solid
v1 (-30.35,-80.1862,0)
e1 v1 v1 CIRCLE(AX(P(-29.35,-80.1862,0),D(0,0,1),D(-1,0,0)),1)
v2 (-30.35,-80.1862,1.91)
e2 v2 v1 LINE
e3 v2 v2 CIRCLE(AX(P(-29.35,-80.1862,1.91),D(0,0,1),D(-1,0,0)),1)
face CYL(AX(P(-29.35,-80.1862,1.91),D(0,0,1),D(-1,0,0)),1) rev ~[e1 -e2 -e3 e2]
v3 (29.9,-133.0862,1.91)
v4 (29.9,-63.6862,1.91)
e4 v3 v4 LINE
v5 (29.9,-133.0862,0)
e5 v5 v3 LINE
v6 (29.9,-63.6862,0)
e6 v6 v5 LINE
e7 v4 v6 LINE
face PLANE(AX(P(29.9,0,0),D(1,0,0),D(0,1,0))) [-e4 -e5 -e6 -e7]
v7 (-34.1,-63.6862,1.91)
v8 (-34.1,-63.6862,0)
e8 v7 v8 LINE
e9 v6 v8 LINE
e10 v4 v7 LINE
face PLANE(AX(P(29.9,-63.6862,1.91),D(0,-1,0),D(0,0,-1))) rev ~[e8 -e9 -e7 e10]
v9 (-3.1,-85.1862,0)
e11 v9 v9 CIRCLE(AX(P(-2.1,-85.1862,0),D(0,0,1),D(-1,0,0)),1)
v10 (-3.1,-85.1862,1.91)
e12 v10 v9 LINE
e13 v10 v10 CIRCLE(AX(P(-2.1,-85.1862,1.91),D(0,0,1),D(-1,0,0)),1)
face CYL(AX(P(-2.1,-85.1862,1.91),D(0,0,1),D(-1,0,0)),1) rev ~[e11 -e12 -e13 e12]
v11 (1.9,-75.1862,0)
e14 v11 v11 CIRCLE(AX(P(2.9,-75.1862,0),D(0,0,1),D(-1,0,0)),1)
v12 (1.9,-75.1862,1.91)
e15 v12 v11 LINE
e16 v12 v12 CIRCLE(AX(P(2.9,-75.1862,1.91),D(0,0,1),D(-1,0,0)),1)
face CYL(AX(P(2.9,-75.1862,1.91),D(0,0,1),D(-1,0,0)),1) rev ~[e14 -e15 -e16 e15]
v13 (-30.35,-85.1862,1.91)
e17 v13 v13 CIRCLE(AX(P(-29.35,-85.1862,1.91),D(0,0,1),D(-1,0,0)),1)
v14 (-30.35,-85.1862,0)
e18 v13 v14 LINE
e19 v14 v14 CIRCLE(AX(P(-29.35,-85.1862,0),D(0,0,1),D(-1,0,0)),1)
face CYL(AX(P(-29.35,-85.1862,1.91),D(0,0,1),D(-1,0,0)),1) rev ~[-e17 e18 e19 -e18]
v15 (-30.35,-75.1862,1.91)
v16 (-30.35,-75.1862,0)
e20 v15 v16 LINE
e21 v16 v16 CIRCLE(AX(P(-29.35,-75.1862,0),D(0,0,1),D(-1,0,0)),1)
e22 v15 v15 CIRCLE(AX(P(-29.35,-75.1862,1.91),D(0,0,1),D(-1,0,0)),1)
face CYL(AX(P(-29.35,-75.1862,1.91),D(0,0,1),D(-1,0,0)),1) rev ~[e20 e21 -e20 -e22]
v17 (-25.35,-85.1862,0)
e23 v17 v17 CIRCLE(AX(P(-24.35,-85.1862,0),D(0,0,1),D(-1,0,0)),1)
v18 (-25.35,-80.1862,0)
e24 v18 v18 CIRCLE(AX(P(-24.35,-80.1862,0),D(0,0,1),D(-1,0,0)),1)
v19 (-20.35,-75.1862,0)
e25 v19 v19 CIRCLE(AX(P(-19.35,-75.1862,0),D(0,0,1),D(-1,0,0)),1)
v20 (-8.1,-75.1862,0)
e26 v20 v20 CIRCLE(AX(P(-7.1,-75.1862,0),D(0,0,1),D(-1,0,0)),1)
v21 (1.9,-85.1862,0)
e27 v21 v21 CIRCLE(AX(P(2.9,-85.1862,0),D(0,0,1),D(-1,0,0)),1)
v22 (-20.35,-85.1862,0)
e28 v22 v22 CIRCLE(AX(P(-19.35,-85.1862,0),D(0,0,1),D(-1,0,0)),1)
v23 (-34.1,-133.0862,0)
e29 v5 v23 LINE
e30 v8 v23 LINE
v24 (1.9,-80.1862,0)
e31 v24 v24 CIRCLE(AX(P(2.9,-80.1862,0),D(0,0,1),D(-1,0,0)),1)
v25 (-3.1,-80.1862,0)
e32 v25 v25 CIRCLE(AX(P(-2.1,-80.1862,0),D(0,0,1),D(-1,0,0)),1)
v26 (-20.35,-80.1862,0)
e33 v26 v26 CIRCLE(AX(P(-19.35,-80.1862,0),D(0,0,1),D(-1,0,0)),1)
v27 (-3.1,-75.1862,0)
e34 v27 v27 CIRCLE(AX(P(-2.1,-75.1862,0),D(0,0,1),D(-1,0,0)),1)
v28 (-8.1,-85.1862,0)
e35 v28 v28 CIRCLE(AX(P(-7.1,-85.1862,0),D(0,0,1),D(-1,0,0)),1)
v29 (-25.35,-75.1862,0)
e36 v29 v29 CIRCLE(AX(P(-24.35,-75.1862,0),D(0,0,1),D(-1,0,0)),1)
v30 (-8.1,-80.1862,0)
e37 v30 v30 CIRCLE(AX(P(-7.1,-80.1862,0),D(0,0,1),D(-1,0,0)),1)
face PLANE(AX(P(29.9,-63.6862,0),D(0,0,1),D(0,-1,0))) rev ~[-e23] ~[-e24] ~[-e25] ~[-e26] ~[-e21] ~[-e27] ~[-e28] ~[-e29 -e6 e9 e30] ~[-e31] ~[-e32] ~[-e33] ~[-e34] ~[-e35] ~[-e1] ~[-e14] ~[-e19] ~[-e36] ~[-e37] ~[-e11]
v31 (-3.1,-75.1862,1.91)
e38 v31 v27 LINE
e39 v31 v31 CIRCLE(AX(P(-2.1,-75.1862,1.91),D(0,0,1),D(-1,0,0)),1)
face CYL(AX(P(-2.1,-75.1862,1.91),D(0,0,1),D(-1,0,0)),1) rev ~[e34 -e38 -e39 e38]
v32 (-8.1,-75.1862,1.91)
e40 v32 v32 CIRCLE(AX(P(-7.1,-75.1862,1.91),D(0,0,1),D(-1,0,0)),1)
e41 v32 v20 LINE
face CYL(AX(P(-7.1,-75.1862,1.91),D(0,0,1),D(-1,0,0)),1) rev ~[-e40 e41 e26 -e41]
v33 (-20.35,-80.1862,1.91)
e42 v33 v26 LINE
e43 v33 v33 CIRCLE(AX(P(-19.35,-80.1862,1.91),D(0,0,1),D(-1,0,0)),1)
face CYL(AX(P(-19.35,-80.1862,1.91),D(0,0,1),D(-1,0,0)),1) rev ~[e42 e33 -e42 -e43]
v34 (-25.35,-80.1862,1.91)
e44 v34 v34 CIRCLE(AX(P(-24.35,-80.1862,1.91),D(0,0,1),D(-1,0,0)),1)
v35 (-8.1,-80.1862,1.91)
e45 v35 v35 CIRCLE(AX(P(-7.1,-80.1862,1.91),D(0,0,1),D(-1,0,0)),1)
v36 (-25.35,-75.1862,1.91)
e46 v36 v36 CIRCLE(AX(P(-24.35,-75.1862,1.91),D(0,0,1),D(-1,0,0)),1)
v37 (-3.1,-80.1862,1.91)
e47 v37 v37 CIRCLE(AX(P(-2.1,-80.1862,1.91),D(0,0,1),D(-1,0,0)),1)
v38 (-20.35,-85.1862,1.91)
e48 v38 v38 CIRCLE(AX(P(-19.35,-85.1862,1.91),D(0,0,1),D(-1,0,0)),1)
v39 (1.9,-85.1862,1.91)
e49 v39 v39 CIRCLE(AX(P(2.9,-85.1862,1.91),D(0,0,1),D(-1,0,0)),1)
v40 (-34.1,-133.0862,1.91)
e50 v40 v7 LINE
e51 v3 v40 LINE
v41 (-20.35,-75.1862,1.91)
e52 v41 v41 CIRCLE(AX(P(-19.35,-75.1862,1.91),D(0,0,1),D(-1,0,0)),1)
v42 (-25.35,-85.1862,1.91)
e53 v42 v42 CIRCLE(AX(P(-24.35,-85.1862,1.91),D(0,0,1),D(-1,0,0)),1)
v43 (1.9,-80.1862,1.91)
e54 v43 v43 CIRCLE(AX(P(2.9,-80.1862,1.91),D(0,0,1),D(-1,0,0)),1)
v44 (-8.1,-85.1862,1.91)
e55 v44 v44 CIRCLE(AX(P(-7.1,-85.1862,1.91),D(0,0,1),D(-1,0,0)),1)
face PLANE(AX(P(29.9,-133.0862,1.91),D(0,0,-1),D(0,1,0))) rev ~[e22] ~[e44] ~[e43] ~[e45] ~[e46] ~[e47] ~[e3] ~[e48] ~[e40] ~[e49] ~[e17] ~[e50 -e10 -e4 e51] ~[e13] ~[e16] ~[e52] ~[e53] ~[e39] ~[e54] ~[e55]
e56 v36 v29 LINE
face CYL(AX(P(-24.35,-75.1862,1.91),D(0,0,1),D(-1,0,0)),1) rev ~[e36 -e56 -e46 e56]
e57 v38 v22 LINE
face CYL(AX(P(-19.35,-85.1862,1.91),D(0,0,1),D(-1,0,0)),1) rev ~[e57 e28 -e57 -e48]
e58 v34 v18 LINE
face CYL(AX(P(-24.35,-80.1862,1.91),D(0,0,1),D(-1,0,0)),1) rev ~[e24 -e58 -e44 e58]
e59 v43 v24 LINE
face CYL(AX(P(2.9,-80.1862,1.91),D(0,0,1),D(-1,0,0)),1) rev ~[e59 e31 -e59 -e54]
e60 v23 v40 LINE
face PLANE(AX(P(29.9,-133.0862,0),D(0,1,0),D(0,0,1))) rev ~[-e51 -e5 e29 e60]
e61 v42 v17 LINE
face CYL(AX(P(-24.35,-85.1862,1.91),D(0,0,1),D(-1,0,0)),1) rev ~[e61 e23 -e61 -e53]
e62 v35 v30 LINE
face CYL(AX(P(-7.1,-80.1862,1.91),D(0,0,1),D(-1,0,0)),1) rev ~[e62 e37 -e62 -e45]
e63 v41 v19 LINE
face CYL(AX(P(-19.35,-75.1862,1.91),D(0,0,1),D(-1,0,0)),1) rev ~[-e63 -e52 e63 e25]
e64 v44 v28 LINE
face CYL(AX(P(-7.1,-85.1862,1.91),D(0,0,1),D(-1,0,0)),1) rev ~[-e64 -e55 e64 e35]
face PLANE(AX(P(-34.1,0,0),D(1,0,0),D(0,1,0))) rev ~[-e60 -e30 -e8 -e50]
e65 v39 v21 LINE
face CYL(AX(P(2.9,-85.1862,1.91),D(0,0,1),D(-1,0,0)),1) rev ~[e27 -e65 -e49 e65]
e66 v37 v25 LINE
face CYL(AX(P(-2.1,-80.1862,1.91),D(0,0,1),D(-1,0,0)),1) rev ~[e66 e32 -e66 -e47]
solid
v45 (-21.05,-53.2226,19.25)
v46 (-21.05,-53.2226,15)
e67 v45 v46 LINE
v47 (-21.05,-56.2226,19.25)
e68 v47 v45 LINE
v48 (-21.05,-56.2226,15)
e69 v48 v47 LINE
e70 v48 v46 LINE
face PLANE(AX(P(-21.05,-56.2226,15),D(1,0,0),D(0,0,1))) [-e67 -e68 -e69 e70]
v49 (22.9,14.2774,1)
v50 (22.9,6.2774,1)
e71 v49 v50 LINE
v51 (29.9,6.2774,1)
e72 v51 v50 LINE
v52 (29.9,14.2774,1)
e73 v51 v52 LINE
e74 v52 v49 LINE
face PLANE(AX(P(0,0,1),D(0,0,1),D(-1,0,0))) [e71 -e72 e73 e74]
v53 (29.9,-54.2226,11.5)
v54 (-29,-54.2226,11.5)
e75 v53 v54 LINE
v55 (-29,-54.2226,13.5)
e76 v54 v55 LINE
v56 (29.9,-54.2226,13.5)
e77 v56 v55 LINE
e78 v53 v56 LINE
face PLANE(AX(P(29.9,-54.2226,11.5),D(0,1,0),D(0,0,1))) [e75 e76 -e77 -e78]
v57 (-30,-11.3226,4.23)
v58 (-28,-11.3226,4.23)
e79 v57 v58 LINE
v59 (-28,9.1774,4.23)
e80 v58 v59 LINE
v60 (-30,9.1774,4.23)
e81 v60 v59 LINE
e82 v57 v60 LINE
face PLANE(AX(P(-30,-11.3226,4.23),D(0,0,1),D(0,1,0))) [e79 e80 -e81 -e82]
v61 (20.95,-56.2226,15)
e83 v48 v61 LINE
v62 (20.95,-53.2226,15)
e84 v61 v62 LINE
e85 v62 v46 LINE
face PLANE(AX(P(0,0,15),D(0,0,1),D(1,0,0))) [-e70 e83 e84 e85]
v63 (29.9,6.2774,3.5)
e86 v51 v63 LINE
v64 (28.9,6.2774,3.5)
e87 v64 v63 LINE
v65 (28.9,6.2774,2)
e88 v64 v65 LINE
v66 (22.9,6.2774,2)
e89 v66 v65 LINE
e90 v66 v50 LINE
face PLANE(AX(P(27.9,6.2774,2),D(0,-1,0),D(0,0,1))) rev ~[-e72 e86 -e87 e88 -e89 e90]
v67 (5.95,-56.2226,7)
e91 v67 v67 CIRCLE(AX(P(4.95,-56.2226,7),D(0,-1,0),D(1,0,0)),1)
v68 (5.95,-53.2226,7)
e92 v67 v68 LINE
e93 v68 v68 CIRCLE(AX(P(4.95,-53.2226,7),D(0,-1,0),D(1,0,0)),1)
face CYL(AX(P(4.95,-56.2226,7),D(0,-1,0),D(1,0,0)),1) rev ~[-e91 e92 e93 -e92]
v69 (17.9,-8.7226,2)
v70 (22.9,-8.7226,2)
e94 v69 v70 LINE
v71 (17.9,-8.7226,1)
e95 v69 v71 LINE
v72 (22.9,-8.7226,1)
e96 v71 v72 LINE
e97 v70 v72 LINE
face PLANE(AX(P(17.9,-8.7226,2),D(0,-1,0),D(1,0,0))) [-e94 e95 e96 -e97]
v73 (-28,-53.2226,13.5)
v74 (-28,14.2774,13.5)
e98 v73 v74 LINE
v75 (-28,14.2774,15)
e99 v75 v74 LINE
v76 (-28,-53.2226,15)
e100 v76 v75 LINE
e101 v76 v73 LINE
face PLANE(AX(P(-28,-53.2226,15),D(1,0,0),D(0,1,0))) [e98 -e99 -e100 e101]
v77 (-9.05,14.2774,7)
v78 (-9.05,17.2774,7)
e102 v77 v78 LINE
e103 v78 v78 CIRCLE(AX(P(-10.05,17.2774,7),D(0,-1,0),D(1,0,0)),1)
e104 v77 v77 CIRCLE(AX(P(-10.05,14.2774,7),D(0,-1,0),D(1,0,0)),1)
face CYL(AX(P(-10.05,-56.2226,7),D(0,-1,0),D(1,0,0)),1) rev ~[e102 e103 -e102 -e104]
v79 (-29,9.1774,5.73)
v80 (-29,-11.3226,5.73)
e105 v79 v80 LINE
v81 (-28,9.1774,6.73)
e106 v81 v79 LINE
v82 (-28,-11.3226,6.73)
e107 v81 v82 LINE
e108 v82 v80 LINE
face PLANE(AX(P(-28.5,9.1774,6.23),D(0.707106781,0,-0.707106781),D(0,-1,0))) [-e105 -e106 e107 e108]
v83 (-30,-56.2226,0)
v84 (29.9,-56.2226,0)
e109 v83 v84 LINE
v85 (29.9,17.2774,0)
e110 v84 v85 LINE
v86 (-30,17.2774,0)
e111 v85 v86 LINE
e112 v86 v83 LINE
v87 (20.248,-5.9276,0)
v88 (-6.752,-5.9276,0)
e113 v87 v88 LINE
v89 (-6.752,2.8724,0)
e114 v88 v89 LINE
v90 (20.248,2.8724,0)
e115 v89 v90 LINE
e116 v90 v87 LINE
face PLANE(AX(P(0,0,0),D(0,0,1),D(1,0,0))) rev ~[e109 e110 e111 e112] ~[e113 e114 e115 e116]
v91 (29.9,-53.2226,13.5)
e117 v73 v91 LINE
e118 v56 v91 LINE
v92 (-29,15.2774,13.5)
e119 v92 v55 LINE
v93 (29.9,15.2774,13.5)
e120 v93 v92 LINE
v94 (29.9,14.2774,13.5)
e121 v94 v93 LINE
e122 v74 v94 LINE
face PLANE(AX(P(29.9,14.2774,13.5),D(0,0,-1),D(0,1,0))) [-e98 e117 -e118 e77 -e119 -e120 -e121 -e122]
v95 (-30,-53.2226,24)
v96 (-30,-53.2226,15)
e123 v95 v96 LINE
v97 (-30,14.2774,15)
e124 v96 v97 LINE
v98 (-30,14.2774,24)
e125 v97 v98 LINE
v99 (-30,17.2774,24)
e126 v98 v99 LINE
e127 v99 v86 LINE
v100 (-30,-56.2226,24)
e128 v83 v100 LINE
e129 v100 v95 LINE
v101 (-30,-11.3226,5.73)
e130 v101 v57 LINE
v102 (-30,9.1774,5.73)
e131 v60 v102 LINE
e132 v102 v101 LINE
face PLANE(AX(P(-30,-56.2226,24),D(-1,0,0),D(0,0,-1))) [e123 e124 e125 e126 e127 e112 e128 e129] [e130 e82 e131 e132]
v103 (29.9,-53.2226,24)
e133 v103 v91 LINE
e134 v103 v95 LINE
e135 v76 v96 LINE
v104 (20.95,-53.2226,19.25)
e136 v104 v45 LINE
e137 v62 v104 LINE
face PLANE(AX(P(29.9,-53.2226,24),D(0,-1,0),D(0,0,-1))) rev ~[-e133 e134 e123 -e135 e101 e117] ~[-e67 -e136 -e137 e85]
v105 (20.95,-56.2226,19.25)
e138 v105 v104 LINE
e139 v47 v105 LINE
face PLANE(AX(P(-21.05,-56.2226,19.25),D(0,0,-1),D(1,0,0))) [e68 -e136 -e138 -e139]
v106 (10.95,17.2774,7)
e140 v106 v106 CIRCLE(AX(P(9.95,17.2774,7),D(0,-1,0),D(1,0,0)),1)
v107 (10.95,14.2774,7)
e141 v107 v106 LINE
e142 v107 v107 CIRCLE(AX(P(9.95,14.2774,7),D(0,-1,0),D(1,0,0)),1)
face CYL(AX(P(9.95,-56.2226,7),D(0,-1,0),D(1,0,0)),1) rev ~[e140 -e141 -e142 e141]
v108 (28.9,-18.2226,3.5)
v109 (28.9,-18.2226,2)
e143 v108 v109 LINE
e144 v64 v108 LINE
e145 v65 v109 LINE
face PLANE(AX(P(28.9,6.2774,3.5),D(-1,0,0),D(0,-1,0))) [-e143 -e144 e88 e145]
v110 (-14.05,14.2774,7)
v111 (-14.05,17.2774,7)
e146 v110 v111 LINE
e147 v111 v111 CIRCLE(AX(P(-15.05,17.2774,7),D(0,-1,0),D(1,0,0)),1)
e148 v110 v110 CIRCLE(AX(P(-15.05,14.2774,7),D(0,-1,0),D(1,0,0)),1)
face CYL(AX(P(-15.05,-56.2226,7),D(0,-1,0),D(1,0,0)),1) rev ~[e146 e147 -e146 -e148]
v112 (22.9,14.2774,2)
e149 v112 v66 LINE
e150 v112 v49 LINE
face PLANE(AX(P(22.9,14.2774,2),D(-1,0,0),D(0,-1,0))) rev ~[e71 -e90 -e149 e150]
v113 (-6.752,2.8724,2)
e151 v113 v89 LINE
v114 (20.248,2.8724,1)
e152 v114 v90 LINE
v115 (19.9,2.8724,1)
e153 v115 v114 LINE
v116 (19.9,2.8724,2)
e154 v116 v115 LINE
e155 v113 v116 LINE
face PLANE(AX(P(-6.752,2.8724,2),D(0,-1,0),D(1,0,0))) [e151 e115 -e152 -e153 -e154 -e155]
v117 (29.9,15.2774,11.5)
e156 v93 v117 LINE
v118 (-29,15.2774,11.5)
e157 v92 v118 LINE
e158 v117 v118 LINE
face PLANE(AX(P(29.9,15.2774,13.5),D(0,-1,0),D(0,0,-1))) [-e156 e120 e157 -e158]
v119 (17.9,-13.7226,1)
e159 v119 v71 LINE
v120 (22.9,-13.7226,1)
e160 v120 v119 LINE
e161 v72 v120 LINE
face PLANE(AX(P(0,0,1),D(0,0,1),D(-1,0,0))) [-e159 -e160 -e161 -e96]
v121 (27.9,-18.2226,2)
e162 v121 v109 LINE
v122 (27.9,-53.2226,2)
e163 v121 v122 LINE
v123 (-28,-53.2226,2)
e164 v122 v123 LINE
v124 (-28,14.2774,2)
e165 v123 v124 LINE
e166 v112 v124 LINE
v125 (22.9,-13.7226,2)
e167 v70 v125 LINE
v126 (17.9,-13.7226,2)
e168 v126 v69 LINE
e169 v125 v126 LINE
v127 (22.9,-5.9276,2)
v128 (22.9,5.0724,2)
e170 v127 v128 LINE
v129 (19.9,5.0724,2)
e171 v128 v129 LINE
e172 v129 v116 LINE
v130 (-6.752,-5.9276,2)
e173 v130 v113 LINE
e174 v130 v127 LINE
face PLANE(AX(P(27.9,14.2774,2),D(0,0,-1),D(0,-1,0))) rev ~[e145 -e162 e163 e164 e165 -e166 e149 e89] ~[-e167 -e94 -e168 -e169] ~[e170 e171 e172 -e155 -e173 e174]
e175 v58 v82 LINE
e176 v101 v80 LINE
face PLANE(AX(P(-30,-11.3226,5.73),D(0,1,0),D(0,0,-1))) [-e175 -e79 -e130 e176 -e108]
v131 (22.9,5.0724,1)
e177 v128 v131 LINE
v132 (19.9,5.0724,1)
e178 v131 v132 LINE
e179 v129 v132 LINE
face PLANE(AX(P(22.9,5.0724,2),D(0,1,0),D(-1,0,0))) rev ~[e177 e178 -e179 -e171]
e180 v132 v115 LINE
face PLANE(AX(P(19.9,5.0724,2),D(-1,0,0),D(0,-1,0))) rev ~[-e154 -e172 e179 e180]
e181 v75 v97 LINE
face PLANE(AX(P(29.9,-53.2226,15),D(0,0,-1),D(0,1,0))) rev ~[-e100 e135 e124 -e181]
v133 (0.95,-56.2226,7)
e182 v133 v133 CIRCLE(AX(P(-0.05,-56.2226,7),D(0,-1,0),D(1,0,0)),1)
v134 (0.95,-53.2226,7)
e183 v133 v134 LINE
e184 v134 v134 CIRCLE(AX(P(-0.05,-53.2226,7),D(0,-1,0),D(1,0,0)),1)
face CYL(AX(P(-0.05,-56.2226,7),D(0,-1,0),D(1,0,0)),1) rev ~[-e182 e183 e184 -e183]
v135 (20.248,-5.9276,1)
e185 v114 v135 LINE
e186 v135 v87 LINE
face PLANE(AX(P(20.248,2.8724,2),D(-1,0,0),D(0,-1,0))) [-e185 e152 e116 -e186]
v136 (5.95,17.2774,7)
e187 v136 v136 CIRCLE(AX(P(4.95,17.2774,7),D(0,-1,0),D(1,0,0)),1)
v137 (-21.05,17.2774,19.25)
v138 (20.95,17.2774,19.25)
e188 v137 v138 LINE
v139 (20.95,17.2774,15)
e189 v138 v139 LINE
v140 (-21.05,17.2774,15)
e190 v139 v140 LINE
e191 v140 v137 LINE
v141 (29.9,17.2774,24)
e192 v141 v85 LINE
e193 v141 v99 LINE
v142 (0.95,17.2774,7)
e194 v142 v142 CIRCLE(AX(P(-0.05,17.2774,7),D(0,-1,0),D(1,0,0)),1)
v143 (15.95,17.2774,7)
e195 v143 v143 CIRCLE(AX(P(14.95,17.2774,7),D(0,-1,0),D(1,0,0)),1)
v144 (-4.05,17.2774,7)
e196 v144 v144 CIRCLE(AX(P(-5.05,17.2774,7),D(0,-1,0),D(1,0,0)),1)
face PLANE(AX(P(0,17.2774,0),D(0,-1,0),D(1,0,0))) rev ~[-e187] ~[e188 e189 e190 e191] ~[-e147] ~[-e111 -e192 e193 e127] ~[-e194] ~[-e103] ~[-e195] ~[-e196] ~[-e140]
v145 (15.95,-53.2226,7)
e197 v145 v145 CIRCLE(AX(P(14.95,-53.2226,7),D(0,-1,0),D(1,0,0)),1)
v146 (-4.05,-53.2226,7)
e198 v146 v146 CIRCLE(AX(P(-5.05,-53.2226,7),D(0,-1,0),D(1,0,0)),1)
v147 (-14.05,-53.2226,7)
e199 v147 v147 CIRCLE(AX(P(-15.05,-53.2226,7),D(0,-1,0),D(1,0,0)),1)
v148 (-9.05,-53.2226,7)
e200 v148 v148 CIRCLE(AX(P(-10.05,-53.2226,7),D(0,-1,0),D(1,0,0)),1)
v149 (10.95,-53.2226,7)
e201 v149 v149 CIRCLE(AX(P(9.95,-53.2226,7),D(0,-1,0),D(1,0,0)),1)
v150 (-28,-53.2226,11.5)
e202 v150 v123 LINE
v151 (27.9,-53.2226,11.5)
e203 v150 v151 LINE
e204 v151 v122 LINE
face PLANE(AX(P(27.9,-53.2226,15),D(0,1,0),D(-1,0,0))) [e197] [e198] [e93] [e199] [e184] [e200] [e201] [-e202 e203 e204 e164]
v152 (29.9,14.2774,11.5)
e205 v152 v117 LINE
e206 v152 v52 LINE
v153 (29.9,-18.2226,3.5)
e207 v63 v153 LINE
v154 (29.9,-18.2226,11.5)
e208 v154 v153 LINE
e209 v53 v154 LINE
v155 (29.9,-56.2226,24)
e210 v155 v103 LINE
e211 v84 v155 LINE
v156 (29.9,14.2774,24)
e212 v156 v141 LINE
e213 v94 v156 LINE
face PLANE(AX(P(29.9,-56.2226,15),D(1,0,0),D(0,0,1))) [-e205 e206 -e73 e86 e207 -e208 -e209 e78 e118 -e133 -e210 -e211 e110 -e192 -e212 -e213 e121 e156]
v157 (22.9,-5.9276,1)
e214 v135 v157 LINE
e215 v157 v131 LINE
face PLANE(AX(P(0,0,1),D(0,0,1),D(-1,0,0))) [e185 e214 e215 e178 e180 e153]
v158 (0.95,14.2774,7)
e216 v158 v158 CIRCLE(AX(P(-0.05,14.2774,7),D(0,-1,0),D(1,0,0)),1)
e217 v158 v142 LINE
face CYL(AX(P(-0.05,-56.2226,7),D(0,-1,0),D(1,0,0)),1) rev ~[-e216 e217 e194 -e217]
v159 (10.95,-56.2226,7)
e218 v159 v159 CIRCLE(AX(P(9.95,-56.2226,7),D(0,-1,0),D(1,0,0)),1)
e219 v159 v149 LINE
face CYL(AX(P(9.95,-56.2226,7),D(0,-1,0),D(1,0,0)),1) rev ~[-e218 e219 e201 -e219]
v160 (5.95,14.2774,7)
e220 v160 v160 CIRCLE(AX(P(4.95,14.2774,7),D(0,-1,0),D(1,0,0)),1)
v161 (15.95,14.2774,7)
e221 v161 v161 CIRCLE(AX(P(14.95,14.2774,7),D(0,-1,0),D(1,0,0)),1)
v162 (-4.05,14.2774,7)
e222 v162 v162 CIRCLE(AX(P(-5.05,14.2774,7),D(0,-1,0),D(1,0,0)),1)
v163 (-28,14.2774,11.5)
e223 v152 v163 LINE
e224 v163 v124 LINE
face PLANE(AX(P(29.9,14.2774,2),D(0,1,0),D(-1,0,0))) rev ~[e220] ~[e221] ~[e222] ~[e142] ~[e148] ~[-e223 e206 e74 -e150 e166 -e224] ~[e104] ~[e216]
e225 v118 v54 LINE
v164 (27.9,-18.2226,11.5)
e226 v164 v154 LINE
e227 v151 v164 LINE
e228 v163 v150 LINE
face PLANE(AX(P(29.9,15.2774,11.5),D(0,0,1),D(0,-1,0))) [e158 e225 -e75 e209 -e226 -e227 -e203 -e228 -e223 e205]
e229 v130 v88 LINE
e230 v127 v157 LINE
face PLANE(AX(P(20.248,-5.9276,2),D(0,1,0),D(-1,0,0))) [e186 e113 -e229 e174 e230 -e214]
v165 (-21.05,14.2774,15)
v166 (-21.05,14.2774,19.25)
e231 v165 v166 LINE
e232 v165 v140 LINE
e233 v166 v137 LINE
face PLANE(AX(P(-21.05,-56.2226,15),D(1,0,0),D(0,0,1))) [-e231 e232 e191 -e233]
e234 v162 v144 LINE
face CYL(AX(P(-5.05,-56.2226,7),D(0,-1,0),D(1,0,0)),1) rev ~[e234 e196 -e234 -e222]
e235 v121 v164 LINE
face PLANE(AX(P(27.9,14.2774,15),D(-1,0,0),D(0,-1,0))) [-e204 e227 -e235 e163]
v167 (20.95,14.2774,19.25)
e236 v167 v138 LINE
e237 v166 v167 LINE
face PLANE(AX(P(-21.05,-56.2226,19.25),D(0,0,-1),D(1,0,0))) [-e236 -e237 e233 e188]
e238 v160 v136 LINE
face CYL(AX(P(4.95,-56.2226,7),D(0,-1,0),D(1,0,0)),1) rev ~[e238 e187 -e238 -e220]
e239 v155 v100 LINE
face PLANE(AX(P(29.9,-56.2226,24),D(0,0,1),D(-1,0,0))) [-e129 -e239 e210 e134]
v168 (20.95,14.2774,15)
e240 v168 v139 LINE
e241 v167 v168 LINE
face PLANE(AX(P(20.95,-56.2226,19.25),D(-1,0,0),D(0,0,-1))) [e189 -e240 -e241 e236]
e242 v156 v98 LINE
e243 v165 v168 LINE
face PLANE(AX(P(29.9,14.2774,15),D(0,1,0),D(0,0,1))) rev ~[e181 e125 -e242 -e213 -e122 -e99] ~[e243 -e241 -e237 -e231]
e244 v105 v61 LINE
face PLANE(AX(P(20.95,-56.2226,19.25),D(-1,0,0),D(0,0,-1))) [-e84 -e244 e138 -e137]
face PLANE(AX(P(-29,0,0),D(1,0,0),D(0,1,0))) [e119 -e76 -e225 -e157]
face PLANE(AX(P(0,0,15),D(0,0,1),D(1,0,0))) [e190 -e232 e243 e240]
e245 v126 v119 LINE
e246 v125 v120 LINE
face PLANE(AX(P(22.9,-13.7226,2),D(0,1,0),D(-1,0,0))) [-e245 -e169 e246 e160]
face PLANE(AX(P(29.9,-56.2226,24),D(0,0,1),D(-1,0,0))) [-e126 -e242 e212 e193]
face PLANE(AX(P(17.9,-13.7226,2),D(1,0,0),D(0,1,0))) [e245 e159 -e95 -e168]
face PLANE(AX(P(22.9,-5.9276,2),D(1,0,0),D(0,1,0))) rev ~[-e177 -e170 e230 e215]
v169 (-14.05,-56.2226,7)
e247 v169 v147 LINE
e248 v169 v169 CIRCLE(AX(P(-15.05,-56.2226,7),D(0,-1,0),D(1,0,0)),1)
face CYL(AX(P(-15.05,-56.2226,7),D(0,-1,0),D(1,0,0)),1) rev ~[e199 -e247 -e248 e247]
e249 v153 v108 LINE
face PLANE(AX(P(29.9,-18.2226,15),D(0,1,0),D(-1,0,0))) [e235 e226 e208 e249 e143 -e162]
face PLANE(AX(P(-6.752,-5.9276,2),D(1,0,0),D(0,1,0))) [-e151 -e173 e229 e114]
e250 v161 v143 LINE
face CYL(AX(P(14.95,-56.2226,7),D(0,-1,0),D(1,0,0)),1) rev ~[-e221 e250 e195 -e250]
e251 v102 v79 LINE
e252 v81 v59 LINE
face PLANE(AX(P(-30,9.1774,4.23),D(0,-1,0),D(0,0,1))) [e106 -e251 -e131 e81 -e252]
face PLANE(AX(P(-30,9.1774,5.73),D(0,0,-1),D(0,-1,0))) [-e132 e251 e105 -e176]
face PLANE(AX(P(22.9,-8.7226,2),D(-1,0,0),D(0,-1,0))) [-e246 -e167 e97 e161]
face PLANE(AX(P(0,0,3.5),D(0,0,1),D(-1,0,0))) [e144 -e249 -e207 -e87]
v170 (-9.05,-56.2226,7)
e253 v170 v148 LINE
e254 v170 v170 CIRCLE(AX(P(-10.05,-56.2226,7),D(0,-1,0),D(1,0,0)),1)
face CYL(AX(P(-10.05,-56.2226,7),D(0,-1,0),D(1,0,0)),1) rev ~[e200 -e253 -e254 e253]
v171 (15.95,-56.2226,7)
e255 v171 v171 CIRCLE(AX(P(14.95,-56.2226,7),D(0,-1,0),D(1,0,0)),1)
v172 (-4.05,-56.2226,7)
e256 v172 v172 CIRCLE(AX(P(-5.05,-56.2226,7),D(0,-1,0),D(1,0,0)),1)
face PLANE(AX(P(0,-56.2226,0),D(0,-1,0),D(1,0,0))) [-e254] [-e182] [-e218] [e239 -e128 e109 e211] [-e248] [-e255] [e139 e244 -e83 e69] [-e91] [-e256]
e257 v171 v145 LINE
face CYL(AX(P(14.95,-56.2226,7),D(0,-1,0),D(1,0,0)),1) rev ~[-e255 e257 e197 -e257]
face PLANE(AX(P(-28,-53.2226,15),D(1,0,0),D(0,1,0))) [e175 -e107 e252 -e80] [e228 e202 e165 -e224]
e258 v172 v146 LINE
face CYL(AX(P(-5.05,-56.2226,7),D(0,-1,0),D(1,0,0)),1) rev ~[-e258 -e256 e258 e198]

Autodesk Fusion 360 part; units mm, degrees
sketch "Base" plane through (0, 0, 0) normal (0, 0, 1) x (1, 0, 0)
  line L0 (29.9, 17.2774) -> (-30, 17.2774)
  line L1 (-30, 17.2774) -> (-30, -56.2226)
  line L2 (-30, -56.2226) -> (29.9, -56.2226)
  line L3 (29.9, -56.2226) -> (29.9, 17.2774)
  dimension "d3" = 59.9
  dimension "d4" = 73.5
extrude "Extrude1" add sketch "Base" along normal blind 15 makes body 1
sketch "Top" plane through (0, 0, 15) normal (0, 0, 1) x (-1, 0, 0)
  line L0 (-29.9, 56.2226) -> (-29.9, -17.2774)
  line L1 (-29.9, -17.2774) -> (30, -17.2774)
  line L2 (30, -17.2774) -> (30, 56.2226)
  line L3 (30, 56.2226) -> (-29.9, 56.2226)
sketch "Main Slot" plane through (0, 0, 15) normal (0, 0, 1) x (-1, 0, 0)
  line L0 (-27.9, 53.2226) -> (28, 53.2226)
  line L1 (28, 53.2226) -> (28, -14.2774)
  line L2 (28, -14.2774) -> (-27.9, -14.2774)
  line L3 (-27.9, -14.2774) -> (-27.9, 53.2226)
  line L4 (-29.9, 56.2226) -> (-29.9, -17.2774)
  line L5 (30, 56.2226) -> (-29.9, 56.2226)
  line L6 (-29.9, -17.2774) -> (30, -17.2774)
  dimension "d17" = 55.9
  dimension "d18" = 67.5
  dimension "d19" = 2
  dimension "d70" = 3
extrude "Extrude4" cut sketch "Main Slot" against normal blind 13 bodies 1
sketch "Port Hole" plane through (0, 0, 15) normal (0, 0, 1) x (-1, 0, 0)
  line L0 (-29.9, 18.2226) -> (-27.9, 18.2226)
  line L1 (-27.9, 18.2226) -> (-27.9, -14.2774)
  line L2 (-27.9, -14.2774) -> (-29.9, -14.2774)
  line L3 (-29.9, -14.2774) -> (-29.9, 18.2226)
  line L4 (-27.9, -14.2774) -> (-27.9, 53.2226)
  line L5 (30, 56.2226) -> (-29.9, 56.2226)
  line L6 (-29.9, -17.2774) -> (30, -17.2774)
  dimension "d23" = 32.5
  dimension "d24" = 2
  dimension "d27" = 2
  dimension "d69" = 3
extrude "Extrude5" cut sketch "Port Hole" against normal blind 11.5 bodies 1
sketch "Antenna Hole" plane through (-30, 0, 0) normal (-1, 0, 0) x (0, -1, 0)
  line L0 (-17.2774, 0) -> (56.2226, 0)
  line L1 (56.2226, 0) -> (56.2226, 15)
  line L2 (56.2226, 15) -> (-17.2774, 15)
  line L3 (-17.2774, 15) -> (-17.2774, 0)
  line L4 (-9.1774, 5.73) -> (11.3226, 5.73)
  line L5 (11.3226, 5.73) -> (11.3226, 4.23)
  line L6 (11.3226, 4.23) -> (-9.1774, 4.23)
  line L7 (-9.1774, 4.23) -> (-9.1774, 5.73)
  line L8 (-17.2774, 0) -> (56.2226, 0)
  dimension "d36" = 20.5
  dimension "d37" = 1.5
  dimension "d39" = 4.23
  dimension "d63" = 8.1
extrude "Extrude7" cut sketch "Antenna Hole" against normal blind 2 contours L4 L5 L6 L7 bodies 1
chamfer "Chamfer1" distance 1 angle 45 1 edges at (-28, -1.0726, 5.73) on bodies 1
sketch "Lid Notch" plane through (29.9, 0, 0) normal (1, 0, 0) x (0, 1, 0)
  line L0 (14.2774, 15) -> (14.2774, 3.5)
  line L1 (14.2774, 3.5) -> (-18.2226, 3.5)
  line L2 (-18.2226, 3.5) -> (-18.2226, 15)
  line L3 (-18.2226, 15) -> (-56.2226, 15)
  line L4 (-56.2226, 15) -> (-56.2226, 0)
  line L5 (-56.2226, 0) -> (17.2774, 0)
  line L6 (17.2774, 0) -> (17.2774, 15)
  line L7 (17.2774, 15) -> (14.2774, 15)
  line L8 (-54.2226, 13.5) -> (15.2774, 13.5)
  line L9 (15.2774, 13.5) -> (15.2774, 11.5)
  line L10 (15.2774, 11.5) -> (-54.2226, 11.5)
  line L11 (-54.2226, 11.5) -> (-54.2226, 13.5)
  line L12 (-133.0862, 1.91) -> (-63.6862, 1.91)
  line L13 (-63.6862, 1.91) -> (-63.6862, 0)
  line L14 (-63.6862, 0) -> (-133.0862, 0)
  line L15 (-133.0862, 0) -> (-133.0862, 1.91)
  dimension "d46" = 69.5
  dimension "d47" = 2
  dimension "d50" = 11.5
  dimension "d64" = 69.4
  dimension "d65" = 1.91
  dimension "d68" = 2
extrude "Notch" cut sketch "Lid Notch" against normal blind 58.9 contours L0 L8 L9 L10 | L0 L2 L8 L10 | L2 L8 L10 L11 bodies 1
extrude "Lid" add sketch "Lid Notch" against normal blind 64 separate body contours L12 L13 L14 L15 makes body 2
sketch "Inductor Space" plane through (0, 0, 2) normal (0, 0, 1) x (-1, 0, 0)
  line L0 (-27.9, -14.2774) -> (28, -14.2774)
  line L1 (28, -14.2774) -> (28, 53.2226)
  line L2 (28, 53.2226) -> (-27.9, 53.2226)
  line L3 (-27.9, 53.2226) -> (-27.9, -14.2774)
  line L4 (-22.9, 13.7226) -> (-17.9, 13.7226)
  line L5 (-17.9, 13.7226) -> (-17.9, 8.7226)
  line L6 (-17.9, 8.7226) -> (-22.9, 8.7226)
  line L7 (-22.9, 8.7226) -> (-22.9, 13.7226)
  dimension "d55" = 5
  dimension "d56" = 5
  dimension "d57" = 5
  dimension "d62" = 23
extrude "Extrude11" cut sketch "Inductor Space" against normal blind 1 contours L4 L5 L6 L7 bodies 1
sketch "Bottom Sensor Hole" plane through (0, 0, 2) normal (0, 0, 1) x (-1, 0, 0)
  line L0 (-17.9, 13.7226) -> (-17.9, 8.7226)
  line L1 (-17.9, 8.7226) -> (-22.9, 8.7226)
  line L2 (-22.9, 8.7226) -> (-22.9, 13.7226)
  line L3 (-22.9, 13.7226) -> (-17.9, 13.7226)
  line L4 (-27.9, -14.2774) -> (28, -14.2774)
  line L5 (28, -14.2774) -> (28, 53.2226)
  line L6 (28, 53.2226) -> (-27.9, 53.2226)
  line L7 (-27.9, 53.2226) -> (-27.9, -14.2774)
  line L8 (-20.248, 5.9276) -> (6.752, 5.9276)
  line L9 (6.752, 5.9276) -> (6.752, -2.8724)
  line L10 (6.752, -2.8724) -> (-20.248, -2.8724)
  line L11 (-20.248, -2.8724) -> (-20.248, 5.9276)
  line L12 (-29.9, 54.2226) -> (-29.9, -15.2774)
  dimension "d73" = 27
  dimension "d74" = 8.8
  dimension "d75" = 9.652
  dimension "d76" = 11.405
extrude "Extrude14" cut sketch "Bottom Sensor Hole" against normal blind 2 contours L8 L9 L10 L11 bodies 1
sketch "Sketch14" plane through (0, 0, 15) normal (0, 0, 1) x (-1, 0, 0)
  line L0 (28, -14.2774) -> (-29.9, -14.2774)
  line L1 (-29.9, -14.2774) -> (-29.9, -17.2774)
  line L2 (-29.9, -17.2774) -> (30, -17.2774)
  line L3 (30, -17.2774) -> (30, 56.2226)
  line L4 (30, 56.2226) -> (-29.9, 56.2226)
  line L5 (-29.9, 56.2226) -> (-29.9, 18.2226)
  line L6 (-29.9, 18.2226) -> (-27.9, 18.2226)
  line L7 (-27.9, 18.2226) -> (-27.9, 53.2226)
  line L8 (-27.9, 53.2226) -> (28, 53.2226)
  line L9 (28, 53.2226) -> (28, -14.2774)
  line L10 (-29.9, 18.2226) -> (-27.9, 18.2226)
  line L11 (-27.9, 18.2226) -> (-27.9, 53.2226)
  line L12 (-27.9, 53.2226) -> (-29.9, 53.2226)
  line L13 (-29.9, 53.2226) -> (-29.9, 18.2226)
extrude "Extrude15" cut sketch "Sketch14" against normal blind 2.5 contours L5 L6 L7 L10 L11 L12 L13 bodies 1
sketch "Sketch17" plane through (0, -56.2226, 0) normal (0, -1, 0) x (1, 0, 0)
  line L0 (-30, 0) -> (29.9, 0)
  line L1 (29.9, 0) -> (29.9, 15)
  line L2 (29.9, 15) -> (-30, 15)
  line L3 (-30, 15) -> (-30, 0)
  line L4 (-30, 15) -> (29.9, 15)
  line L5 (29.9, 15) -> (29.9, 24)
  line L6 (29.9, 24) -> (-30, 24)
  line L7 (-30, 24) -> (-30, 15)
  line L8 (-21.05, 19.25) -> (20.95, 19.25)
  line L9 (20.95, 19.25) -> (20.95, 15)
  line L10 (20.95, 15) -> (-21.05, 15)
  line L11 (-21.05, 15) -> (-21.05, 19.25)
  dimension "d96" = 42
  dimension "d97" = 4.25
  dimension "d98" = 59.9
  dimension "d99" = 8.95
  dimension "d100" = 9
extrude "Extrude16" add sketch "Sketch17" against normal blind 73.5 contours L2 L4 L5 L6 L7 L8 L9 L11 bodies 1
sketch "Sketch18" plane through (29.9, 0, 0) normal (1, 0, 0) x (0, 1, 0)
  line L0 (14.2774, 15) -> (14.2774, 13.5)
  line L1 (14.2774, 13.5) -> (15.2774, 13.5)
  line L2 (15.2774, 13.5) -> (15.2774, 11.5)
  line L3 (15.2774, 11.5) -> (14.2774, 11.5)
  line L4 (14.2774, 11.5) -> (14.2774, 3.5)
  line L5 (14.2774, 3.5) -> (-18.2226, 3.5)
  line L6 (-18.2226, 3.5) -> (-18.2226, 11.5)
  line L7 (-18.2226, 11.5) -> (-54.2226, 11.5)
  line L8 (-54.2226, 11.5) -> (-54.2226, 13.5)
  line L9 (-54.2226, 13.5) -> (-53.2226, 13.5)
  line L10 (-53.2226, 13.5) -> (-53.2226, 15)
  line L11 (-53.2226, 15) -> (14.2774, 15)
  line L12 (17.2774, 0) -> (17.2774, 24)
  line L13 (17.2774, 24) -> (-56.2226, 24)
  line L14 (-56.2226, 24) -> (-56.2226, 0)
  line L15 (-56.2226, 0) -> (17.2774, 0)
  line L16 (-53.2226, 13.5) -> (14.2774, 13.5)
  line L17 (14.2774, 13.5) -> (14.2774, 24)
  line L18 (14.2774, 24) -> (-53.2226, 24)
  line L19 (-53.2226, 24) -> (-53.2226, 13.5)
extrude "Extrude17" cut sketch "Sketch18" against normal blind 59.9 contours L11 L13 L17 L18 L19 bodies 1
sketch "Lid Holes" plane through (0, 0, 1.91) normal (0, 0, 1) x (-1, 0, 0)
  line L0 (-29.9, 133.0862) -> (-29.9, 63.6862)
  line L1 (-29.9, 63.6862) -> (34.1, 63.6862)
  line L2 (34.1, 63.6862) -> (34.1, 133.0862)
  line L3 (34.1, 133.0862) -> (-29.9, 133.0862)
  circle A0 centre (24.35, 80.1862) radius 1
  circle A1 centre (2.1, 80.1862) radius 1
  dimension "d110" = 2
  dimension "d113" = 16.5
  dimension "d114" = 9.75
  dimension "d119" = 2
  dimension "d120" = 16.5
  dimension "d121" = 32
extrude "Extrude18" cut sketch "Lid Holes" against normal blind 2 contours A0 | A1 bodies 2
pattern_linear "R-Pattern1" count 3 spacing 5 along (1, 0, 0) both ways count 3 spacing 5 along (0, -1, 0) both ways of "Extrude18"
sketch "Wall Holes" plane through (0, -56.2226, 0) normal (0, -1, 0) x (1, 0, 0)
  line L0 (20.95, 15) -> (-21.05, 15)
  line L1 (-21.05, 15) -> (-21.05, 19.25)
  line L2 (-21.05, 19.25) -> (20.95, 19.25)
  line L3 (20.95, 19.25) -> (20.95, 15)
  line L4 (29.9, 0) -> (29.9, 24)
  line L5 (29.9, 24) -> (-30, 24)
  line L6 (-30, 24) -> (-30, 0)
  line L7 (-30, 0) -> (29.9, 0)
  circle A0 centre (-0.05, 7) radius 1
  line L8 (27.9, 2) -> (-28, 2)
  line L9 (27.9, 11.5) -> (27.9, 2)
  dimension "d122" = 2
  dimension "d123" = 5
  dimension "d131" = 59.9
  dimension "d132" = 29.95
extrude "Extrude19" cut sketch "Wall Holes" against normal blind 73.5 contours A0 bodies 1
pattern_linear "R-Pattern2" count 7 spacing 5 along (1, 0, 0) both ways of "Extrude19"
sketch "Battery Wire Hole" plane through (27.9, 0, 0) normal (-1, 0, 0) x (0, -1, 0)
  line L0 (53.2226, 11.5) -> (18.2226, 11.5)
  line L1 (18.2226, 11.5) -> (18.2226, 3.5)
  line L2 (18.2226, 3.5) -> (-14.2774, 3.5)
  line L3 (-14.2774, 3.5) -> (-14.2774, 2)
  line L4 (-14.2774, 2) -> (53.2226, 2)
  line L5 (53.2226, 2) -> (53.2226, 11.5)
  line L6 (-14.2774, 2) -> (-6.2774, 2)
  line L7 (-6.2774, 2) -> (-6.2774, 3.5)
  line L8 (-6.2774, 3.5) -> (-14.2774, 3.5)
  line L9 (-14.2774, 3.5) -> (-14.2774, 2)
  dimension "d133" = 1.5
  dimension "d134" = 8
extrude "Extrude20" cut sketch "Battery Wire Hole" against normal blind 2 contours L2 L3 L4 L6 L7 L8 L9 bodies 1
sketch "Sketch22" plane through (0, 0, 3.5) normal (0, 0, 1) x (-1, 0, 0)
  line L0 (-29.9, -6.2774) -> (-27.9, -6.2774)
  line L1 (-27.9, -6.2774) -> (-27.9, 18.2226)
  line L2 (-27.9, 18.2226) -> (-29.9, 18.2226)
  line L3 (-29.9, 18.2226) -> (-29.9, -6.2774)
  line L4 (-27.9, -6.2774) -> (-28.9, -6.2774)
  line L5 (-28.9, -6.2774) -> (-28.9, 18.2226)
  line L6 (-28.9, 18.2226) -> (-27.9, 18.2226)
  line L7 (-27.9, 18.2226) -> (-27.9, -6.2774)
extrude "Extrude21" cut sketch "Sketch22" against normal blind 1.5 contours L0 L1 L2 L4 L5 L6 L7 bodies 1
sketch "Sketch23" plane through (0, 0, 2) normal (0, 0, 1) x (-1, 0, 0)
  line L0 (6.752, 5.9276) -> (6.752, -2.8724)
  line L1 (6.752, -2.8724) -> (-20.248, -2.8724)
  line L2 (-20.248, -2.8724) -> (-20.248, 5.9276)
  line L3 (-20.248, 5.9276) -> (6.752, 5.9276)
  line L4 (-17.9, 13.7226) -> (-17.9, 8.7226)
  line L5 (-17.9, 8.7226) -> (-22.9, 8.7226)
  line L6 (-22.9, 8.7226) -> (-22.9, 13.7226)
  line L7 (-22.9, 13.7226) -> (-17.9, 13.7226)
  line L8 (-29.9, -14.2774) -> (28, -14.2774)
  line L9 (28, -14.2774) -> (28, 53.2226)
  line L10 (28, 53.2226) -> (-27.9, 53.2226)
  line L11 (-27.9, 53.2226) -> (-27.9, 18.2226)
  line L12 (-28.9, -6.2774) -> (-29.9, -6.2774)
  line L13 (-29.9, -6.2774) -> (-29.9, -14.2774)
  line L14 (-29.9, -14.2774) -> (-22.9, -14.2774)
  line L15 (-22.9, -14.2774) -> (-22.9, -6.2774)
  line L16 (-22.9, -6.2774) -> (-29.9, -6.2774)
  line L17 (-29.9, -6.2774) -> (-29.9, -14.2774)
  line L18 (-27.9, 18.2226) -> (-28.9, 18.2226)
  line L19 (-28.9, 18.2226) -> (-28.9, -6.2774)
  dimension "d146" = 7
extrude "Extrude22" cut sketch "Sketch23" against normal blind 1 contours L8 L12 L13 L14 L15 L16 L17 bodies 1
sketch "Sketch24" plane through (0, 0, 2) normal (0, 0, 1) x (-1, 0, 0)
  line L0 (-22.9, -6.2774) -> (-22.9, -14.2774)
  line L1 (-22.9, -14.2774) -> (28, -14.2774)
  line L2 (28, -14.2774) -> (28, 53.2226)
  line L3 (28, 53.2226) -> (-27.9, 53.2226)
  line L4 (-27.9, 53.2226) -> (-27.9, 18.2226)
  line L5 (-28.9, -6.2774) -> (-22.9, -6.2774)
  line L6 (6.752, 5.9276) -> (6.752, -2.8724)
  line L7 (6.752, -2.8724) -> (-20.248, -2.8724)
  line L8 (-20.248, -2.8724) -> (-20.248, 5.9276)
  line L9 (-20.248, 5.9276) -> (6.752, 5.9276)
  line L10 (-17.9, 13.7226) -> (-17.9, 8.7226)
  line L11 (-17.9, 8.7226) -> (-22.9, 8.7226)
  line L12 (-22.9, 8.7226) -> (-22.9, 13.7226)
  line L13 (-22.9, 13.7226) -> (-17.9, 13.7226)
  line L14 (-22.9, -5.0724) -> (-19.9, -5.0724)
  line L15 (-19.9, -5.0724) -> (-19.9, 5.9276)
  line L16 (-19.9, 5.9276) -> (-22.9, 5.9276)
  line L17 (-22.9, 5.9276) -> (-22.9, -5.0724)
  line L18 (-27.9, 18.2226) -> (-28.9, 18.2226)
  line L19 (-28.9, 18.2226) -> (-28.9, -6.2774)
  dimension "d149" = 11
  dimension "d150" = 3
extrude "Extrude23" cut sketch "Sketch24" against normal blind 1 contours L7 L8 L14 L15 L16 L17 bodies 1
extrude "Extrude2" [suppressed]
extrude "Extrude3" [suppressed]
equation "d4 = 36.5 mm + 3.7 cm"
equation "d18 = 30.5 mm + 3.7 cm"
equation "d39 = 4.48 mm - 0.25 mm"
equation "d46 = 32.5 mm + 3.7 cm"
equation "d64 = 32.5 mm - 0.1 mm + 3.7 cm"
equation "d101 = -36.5 mm - 3.7 cm"
equation "d125 = -36.5 mm - 3.7 cm"
